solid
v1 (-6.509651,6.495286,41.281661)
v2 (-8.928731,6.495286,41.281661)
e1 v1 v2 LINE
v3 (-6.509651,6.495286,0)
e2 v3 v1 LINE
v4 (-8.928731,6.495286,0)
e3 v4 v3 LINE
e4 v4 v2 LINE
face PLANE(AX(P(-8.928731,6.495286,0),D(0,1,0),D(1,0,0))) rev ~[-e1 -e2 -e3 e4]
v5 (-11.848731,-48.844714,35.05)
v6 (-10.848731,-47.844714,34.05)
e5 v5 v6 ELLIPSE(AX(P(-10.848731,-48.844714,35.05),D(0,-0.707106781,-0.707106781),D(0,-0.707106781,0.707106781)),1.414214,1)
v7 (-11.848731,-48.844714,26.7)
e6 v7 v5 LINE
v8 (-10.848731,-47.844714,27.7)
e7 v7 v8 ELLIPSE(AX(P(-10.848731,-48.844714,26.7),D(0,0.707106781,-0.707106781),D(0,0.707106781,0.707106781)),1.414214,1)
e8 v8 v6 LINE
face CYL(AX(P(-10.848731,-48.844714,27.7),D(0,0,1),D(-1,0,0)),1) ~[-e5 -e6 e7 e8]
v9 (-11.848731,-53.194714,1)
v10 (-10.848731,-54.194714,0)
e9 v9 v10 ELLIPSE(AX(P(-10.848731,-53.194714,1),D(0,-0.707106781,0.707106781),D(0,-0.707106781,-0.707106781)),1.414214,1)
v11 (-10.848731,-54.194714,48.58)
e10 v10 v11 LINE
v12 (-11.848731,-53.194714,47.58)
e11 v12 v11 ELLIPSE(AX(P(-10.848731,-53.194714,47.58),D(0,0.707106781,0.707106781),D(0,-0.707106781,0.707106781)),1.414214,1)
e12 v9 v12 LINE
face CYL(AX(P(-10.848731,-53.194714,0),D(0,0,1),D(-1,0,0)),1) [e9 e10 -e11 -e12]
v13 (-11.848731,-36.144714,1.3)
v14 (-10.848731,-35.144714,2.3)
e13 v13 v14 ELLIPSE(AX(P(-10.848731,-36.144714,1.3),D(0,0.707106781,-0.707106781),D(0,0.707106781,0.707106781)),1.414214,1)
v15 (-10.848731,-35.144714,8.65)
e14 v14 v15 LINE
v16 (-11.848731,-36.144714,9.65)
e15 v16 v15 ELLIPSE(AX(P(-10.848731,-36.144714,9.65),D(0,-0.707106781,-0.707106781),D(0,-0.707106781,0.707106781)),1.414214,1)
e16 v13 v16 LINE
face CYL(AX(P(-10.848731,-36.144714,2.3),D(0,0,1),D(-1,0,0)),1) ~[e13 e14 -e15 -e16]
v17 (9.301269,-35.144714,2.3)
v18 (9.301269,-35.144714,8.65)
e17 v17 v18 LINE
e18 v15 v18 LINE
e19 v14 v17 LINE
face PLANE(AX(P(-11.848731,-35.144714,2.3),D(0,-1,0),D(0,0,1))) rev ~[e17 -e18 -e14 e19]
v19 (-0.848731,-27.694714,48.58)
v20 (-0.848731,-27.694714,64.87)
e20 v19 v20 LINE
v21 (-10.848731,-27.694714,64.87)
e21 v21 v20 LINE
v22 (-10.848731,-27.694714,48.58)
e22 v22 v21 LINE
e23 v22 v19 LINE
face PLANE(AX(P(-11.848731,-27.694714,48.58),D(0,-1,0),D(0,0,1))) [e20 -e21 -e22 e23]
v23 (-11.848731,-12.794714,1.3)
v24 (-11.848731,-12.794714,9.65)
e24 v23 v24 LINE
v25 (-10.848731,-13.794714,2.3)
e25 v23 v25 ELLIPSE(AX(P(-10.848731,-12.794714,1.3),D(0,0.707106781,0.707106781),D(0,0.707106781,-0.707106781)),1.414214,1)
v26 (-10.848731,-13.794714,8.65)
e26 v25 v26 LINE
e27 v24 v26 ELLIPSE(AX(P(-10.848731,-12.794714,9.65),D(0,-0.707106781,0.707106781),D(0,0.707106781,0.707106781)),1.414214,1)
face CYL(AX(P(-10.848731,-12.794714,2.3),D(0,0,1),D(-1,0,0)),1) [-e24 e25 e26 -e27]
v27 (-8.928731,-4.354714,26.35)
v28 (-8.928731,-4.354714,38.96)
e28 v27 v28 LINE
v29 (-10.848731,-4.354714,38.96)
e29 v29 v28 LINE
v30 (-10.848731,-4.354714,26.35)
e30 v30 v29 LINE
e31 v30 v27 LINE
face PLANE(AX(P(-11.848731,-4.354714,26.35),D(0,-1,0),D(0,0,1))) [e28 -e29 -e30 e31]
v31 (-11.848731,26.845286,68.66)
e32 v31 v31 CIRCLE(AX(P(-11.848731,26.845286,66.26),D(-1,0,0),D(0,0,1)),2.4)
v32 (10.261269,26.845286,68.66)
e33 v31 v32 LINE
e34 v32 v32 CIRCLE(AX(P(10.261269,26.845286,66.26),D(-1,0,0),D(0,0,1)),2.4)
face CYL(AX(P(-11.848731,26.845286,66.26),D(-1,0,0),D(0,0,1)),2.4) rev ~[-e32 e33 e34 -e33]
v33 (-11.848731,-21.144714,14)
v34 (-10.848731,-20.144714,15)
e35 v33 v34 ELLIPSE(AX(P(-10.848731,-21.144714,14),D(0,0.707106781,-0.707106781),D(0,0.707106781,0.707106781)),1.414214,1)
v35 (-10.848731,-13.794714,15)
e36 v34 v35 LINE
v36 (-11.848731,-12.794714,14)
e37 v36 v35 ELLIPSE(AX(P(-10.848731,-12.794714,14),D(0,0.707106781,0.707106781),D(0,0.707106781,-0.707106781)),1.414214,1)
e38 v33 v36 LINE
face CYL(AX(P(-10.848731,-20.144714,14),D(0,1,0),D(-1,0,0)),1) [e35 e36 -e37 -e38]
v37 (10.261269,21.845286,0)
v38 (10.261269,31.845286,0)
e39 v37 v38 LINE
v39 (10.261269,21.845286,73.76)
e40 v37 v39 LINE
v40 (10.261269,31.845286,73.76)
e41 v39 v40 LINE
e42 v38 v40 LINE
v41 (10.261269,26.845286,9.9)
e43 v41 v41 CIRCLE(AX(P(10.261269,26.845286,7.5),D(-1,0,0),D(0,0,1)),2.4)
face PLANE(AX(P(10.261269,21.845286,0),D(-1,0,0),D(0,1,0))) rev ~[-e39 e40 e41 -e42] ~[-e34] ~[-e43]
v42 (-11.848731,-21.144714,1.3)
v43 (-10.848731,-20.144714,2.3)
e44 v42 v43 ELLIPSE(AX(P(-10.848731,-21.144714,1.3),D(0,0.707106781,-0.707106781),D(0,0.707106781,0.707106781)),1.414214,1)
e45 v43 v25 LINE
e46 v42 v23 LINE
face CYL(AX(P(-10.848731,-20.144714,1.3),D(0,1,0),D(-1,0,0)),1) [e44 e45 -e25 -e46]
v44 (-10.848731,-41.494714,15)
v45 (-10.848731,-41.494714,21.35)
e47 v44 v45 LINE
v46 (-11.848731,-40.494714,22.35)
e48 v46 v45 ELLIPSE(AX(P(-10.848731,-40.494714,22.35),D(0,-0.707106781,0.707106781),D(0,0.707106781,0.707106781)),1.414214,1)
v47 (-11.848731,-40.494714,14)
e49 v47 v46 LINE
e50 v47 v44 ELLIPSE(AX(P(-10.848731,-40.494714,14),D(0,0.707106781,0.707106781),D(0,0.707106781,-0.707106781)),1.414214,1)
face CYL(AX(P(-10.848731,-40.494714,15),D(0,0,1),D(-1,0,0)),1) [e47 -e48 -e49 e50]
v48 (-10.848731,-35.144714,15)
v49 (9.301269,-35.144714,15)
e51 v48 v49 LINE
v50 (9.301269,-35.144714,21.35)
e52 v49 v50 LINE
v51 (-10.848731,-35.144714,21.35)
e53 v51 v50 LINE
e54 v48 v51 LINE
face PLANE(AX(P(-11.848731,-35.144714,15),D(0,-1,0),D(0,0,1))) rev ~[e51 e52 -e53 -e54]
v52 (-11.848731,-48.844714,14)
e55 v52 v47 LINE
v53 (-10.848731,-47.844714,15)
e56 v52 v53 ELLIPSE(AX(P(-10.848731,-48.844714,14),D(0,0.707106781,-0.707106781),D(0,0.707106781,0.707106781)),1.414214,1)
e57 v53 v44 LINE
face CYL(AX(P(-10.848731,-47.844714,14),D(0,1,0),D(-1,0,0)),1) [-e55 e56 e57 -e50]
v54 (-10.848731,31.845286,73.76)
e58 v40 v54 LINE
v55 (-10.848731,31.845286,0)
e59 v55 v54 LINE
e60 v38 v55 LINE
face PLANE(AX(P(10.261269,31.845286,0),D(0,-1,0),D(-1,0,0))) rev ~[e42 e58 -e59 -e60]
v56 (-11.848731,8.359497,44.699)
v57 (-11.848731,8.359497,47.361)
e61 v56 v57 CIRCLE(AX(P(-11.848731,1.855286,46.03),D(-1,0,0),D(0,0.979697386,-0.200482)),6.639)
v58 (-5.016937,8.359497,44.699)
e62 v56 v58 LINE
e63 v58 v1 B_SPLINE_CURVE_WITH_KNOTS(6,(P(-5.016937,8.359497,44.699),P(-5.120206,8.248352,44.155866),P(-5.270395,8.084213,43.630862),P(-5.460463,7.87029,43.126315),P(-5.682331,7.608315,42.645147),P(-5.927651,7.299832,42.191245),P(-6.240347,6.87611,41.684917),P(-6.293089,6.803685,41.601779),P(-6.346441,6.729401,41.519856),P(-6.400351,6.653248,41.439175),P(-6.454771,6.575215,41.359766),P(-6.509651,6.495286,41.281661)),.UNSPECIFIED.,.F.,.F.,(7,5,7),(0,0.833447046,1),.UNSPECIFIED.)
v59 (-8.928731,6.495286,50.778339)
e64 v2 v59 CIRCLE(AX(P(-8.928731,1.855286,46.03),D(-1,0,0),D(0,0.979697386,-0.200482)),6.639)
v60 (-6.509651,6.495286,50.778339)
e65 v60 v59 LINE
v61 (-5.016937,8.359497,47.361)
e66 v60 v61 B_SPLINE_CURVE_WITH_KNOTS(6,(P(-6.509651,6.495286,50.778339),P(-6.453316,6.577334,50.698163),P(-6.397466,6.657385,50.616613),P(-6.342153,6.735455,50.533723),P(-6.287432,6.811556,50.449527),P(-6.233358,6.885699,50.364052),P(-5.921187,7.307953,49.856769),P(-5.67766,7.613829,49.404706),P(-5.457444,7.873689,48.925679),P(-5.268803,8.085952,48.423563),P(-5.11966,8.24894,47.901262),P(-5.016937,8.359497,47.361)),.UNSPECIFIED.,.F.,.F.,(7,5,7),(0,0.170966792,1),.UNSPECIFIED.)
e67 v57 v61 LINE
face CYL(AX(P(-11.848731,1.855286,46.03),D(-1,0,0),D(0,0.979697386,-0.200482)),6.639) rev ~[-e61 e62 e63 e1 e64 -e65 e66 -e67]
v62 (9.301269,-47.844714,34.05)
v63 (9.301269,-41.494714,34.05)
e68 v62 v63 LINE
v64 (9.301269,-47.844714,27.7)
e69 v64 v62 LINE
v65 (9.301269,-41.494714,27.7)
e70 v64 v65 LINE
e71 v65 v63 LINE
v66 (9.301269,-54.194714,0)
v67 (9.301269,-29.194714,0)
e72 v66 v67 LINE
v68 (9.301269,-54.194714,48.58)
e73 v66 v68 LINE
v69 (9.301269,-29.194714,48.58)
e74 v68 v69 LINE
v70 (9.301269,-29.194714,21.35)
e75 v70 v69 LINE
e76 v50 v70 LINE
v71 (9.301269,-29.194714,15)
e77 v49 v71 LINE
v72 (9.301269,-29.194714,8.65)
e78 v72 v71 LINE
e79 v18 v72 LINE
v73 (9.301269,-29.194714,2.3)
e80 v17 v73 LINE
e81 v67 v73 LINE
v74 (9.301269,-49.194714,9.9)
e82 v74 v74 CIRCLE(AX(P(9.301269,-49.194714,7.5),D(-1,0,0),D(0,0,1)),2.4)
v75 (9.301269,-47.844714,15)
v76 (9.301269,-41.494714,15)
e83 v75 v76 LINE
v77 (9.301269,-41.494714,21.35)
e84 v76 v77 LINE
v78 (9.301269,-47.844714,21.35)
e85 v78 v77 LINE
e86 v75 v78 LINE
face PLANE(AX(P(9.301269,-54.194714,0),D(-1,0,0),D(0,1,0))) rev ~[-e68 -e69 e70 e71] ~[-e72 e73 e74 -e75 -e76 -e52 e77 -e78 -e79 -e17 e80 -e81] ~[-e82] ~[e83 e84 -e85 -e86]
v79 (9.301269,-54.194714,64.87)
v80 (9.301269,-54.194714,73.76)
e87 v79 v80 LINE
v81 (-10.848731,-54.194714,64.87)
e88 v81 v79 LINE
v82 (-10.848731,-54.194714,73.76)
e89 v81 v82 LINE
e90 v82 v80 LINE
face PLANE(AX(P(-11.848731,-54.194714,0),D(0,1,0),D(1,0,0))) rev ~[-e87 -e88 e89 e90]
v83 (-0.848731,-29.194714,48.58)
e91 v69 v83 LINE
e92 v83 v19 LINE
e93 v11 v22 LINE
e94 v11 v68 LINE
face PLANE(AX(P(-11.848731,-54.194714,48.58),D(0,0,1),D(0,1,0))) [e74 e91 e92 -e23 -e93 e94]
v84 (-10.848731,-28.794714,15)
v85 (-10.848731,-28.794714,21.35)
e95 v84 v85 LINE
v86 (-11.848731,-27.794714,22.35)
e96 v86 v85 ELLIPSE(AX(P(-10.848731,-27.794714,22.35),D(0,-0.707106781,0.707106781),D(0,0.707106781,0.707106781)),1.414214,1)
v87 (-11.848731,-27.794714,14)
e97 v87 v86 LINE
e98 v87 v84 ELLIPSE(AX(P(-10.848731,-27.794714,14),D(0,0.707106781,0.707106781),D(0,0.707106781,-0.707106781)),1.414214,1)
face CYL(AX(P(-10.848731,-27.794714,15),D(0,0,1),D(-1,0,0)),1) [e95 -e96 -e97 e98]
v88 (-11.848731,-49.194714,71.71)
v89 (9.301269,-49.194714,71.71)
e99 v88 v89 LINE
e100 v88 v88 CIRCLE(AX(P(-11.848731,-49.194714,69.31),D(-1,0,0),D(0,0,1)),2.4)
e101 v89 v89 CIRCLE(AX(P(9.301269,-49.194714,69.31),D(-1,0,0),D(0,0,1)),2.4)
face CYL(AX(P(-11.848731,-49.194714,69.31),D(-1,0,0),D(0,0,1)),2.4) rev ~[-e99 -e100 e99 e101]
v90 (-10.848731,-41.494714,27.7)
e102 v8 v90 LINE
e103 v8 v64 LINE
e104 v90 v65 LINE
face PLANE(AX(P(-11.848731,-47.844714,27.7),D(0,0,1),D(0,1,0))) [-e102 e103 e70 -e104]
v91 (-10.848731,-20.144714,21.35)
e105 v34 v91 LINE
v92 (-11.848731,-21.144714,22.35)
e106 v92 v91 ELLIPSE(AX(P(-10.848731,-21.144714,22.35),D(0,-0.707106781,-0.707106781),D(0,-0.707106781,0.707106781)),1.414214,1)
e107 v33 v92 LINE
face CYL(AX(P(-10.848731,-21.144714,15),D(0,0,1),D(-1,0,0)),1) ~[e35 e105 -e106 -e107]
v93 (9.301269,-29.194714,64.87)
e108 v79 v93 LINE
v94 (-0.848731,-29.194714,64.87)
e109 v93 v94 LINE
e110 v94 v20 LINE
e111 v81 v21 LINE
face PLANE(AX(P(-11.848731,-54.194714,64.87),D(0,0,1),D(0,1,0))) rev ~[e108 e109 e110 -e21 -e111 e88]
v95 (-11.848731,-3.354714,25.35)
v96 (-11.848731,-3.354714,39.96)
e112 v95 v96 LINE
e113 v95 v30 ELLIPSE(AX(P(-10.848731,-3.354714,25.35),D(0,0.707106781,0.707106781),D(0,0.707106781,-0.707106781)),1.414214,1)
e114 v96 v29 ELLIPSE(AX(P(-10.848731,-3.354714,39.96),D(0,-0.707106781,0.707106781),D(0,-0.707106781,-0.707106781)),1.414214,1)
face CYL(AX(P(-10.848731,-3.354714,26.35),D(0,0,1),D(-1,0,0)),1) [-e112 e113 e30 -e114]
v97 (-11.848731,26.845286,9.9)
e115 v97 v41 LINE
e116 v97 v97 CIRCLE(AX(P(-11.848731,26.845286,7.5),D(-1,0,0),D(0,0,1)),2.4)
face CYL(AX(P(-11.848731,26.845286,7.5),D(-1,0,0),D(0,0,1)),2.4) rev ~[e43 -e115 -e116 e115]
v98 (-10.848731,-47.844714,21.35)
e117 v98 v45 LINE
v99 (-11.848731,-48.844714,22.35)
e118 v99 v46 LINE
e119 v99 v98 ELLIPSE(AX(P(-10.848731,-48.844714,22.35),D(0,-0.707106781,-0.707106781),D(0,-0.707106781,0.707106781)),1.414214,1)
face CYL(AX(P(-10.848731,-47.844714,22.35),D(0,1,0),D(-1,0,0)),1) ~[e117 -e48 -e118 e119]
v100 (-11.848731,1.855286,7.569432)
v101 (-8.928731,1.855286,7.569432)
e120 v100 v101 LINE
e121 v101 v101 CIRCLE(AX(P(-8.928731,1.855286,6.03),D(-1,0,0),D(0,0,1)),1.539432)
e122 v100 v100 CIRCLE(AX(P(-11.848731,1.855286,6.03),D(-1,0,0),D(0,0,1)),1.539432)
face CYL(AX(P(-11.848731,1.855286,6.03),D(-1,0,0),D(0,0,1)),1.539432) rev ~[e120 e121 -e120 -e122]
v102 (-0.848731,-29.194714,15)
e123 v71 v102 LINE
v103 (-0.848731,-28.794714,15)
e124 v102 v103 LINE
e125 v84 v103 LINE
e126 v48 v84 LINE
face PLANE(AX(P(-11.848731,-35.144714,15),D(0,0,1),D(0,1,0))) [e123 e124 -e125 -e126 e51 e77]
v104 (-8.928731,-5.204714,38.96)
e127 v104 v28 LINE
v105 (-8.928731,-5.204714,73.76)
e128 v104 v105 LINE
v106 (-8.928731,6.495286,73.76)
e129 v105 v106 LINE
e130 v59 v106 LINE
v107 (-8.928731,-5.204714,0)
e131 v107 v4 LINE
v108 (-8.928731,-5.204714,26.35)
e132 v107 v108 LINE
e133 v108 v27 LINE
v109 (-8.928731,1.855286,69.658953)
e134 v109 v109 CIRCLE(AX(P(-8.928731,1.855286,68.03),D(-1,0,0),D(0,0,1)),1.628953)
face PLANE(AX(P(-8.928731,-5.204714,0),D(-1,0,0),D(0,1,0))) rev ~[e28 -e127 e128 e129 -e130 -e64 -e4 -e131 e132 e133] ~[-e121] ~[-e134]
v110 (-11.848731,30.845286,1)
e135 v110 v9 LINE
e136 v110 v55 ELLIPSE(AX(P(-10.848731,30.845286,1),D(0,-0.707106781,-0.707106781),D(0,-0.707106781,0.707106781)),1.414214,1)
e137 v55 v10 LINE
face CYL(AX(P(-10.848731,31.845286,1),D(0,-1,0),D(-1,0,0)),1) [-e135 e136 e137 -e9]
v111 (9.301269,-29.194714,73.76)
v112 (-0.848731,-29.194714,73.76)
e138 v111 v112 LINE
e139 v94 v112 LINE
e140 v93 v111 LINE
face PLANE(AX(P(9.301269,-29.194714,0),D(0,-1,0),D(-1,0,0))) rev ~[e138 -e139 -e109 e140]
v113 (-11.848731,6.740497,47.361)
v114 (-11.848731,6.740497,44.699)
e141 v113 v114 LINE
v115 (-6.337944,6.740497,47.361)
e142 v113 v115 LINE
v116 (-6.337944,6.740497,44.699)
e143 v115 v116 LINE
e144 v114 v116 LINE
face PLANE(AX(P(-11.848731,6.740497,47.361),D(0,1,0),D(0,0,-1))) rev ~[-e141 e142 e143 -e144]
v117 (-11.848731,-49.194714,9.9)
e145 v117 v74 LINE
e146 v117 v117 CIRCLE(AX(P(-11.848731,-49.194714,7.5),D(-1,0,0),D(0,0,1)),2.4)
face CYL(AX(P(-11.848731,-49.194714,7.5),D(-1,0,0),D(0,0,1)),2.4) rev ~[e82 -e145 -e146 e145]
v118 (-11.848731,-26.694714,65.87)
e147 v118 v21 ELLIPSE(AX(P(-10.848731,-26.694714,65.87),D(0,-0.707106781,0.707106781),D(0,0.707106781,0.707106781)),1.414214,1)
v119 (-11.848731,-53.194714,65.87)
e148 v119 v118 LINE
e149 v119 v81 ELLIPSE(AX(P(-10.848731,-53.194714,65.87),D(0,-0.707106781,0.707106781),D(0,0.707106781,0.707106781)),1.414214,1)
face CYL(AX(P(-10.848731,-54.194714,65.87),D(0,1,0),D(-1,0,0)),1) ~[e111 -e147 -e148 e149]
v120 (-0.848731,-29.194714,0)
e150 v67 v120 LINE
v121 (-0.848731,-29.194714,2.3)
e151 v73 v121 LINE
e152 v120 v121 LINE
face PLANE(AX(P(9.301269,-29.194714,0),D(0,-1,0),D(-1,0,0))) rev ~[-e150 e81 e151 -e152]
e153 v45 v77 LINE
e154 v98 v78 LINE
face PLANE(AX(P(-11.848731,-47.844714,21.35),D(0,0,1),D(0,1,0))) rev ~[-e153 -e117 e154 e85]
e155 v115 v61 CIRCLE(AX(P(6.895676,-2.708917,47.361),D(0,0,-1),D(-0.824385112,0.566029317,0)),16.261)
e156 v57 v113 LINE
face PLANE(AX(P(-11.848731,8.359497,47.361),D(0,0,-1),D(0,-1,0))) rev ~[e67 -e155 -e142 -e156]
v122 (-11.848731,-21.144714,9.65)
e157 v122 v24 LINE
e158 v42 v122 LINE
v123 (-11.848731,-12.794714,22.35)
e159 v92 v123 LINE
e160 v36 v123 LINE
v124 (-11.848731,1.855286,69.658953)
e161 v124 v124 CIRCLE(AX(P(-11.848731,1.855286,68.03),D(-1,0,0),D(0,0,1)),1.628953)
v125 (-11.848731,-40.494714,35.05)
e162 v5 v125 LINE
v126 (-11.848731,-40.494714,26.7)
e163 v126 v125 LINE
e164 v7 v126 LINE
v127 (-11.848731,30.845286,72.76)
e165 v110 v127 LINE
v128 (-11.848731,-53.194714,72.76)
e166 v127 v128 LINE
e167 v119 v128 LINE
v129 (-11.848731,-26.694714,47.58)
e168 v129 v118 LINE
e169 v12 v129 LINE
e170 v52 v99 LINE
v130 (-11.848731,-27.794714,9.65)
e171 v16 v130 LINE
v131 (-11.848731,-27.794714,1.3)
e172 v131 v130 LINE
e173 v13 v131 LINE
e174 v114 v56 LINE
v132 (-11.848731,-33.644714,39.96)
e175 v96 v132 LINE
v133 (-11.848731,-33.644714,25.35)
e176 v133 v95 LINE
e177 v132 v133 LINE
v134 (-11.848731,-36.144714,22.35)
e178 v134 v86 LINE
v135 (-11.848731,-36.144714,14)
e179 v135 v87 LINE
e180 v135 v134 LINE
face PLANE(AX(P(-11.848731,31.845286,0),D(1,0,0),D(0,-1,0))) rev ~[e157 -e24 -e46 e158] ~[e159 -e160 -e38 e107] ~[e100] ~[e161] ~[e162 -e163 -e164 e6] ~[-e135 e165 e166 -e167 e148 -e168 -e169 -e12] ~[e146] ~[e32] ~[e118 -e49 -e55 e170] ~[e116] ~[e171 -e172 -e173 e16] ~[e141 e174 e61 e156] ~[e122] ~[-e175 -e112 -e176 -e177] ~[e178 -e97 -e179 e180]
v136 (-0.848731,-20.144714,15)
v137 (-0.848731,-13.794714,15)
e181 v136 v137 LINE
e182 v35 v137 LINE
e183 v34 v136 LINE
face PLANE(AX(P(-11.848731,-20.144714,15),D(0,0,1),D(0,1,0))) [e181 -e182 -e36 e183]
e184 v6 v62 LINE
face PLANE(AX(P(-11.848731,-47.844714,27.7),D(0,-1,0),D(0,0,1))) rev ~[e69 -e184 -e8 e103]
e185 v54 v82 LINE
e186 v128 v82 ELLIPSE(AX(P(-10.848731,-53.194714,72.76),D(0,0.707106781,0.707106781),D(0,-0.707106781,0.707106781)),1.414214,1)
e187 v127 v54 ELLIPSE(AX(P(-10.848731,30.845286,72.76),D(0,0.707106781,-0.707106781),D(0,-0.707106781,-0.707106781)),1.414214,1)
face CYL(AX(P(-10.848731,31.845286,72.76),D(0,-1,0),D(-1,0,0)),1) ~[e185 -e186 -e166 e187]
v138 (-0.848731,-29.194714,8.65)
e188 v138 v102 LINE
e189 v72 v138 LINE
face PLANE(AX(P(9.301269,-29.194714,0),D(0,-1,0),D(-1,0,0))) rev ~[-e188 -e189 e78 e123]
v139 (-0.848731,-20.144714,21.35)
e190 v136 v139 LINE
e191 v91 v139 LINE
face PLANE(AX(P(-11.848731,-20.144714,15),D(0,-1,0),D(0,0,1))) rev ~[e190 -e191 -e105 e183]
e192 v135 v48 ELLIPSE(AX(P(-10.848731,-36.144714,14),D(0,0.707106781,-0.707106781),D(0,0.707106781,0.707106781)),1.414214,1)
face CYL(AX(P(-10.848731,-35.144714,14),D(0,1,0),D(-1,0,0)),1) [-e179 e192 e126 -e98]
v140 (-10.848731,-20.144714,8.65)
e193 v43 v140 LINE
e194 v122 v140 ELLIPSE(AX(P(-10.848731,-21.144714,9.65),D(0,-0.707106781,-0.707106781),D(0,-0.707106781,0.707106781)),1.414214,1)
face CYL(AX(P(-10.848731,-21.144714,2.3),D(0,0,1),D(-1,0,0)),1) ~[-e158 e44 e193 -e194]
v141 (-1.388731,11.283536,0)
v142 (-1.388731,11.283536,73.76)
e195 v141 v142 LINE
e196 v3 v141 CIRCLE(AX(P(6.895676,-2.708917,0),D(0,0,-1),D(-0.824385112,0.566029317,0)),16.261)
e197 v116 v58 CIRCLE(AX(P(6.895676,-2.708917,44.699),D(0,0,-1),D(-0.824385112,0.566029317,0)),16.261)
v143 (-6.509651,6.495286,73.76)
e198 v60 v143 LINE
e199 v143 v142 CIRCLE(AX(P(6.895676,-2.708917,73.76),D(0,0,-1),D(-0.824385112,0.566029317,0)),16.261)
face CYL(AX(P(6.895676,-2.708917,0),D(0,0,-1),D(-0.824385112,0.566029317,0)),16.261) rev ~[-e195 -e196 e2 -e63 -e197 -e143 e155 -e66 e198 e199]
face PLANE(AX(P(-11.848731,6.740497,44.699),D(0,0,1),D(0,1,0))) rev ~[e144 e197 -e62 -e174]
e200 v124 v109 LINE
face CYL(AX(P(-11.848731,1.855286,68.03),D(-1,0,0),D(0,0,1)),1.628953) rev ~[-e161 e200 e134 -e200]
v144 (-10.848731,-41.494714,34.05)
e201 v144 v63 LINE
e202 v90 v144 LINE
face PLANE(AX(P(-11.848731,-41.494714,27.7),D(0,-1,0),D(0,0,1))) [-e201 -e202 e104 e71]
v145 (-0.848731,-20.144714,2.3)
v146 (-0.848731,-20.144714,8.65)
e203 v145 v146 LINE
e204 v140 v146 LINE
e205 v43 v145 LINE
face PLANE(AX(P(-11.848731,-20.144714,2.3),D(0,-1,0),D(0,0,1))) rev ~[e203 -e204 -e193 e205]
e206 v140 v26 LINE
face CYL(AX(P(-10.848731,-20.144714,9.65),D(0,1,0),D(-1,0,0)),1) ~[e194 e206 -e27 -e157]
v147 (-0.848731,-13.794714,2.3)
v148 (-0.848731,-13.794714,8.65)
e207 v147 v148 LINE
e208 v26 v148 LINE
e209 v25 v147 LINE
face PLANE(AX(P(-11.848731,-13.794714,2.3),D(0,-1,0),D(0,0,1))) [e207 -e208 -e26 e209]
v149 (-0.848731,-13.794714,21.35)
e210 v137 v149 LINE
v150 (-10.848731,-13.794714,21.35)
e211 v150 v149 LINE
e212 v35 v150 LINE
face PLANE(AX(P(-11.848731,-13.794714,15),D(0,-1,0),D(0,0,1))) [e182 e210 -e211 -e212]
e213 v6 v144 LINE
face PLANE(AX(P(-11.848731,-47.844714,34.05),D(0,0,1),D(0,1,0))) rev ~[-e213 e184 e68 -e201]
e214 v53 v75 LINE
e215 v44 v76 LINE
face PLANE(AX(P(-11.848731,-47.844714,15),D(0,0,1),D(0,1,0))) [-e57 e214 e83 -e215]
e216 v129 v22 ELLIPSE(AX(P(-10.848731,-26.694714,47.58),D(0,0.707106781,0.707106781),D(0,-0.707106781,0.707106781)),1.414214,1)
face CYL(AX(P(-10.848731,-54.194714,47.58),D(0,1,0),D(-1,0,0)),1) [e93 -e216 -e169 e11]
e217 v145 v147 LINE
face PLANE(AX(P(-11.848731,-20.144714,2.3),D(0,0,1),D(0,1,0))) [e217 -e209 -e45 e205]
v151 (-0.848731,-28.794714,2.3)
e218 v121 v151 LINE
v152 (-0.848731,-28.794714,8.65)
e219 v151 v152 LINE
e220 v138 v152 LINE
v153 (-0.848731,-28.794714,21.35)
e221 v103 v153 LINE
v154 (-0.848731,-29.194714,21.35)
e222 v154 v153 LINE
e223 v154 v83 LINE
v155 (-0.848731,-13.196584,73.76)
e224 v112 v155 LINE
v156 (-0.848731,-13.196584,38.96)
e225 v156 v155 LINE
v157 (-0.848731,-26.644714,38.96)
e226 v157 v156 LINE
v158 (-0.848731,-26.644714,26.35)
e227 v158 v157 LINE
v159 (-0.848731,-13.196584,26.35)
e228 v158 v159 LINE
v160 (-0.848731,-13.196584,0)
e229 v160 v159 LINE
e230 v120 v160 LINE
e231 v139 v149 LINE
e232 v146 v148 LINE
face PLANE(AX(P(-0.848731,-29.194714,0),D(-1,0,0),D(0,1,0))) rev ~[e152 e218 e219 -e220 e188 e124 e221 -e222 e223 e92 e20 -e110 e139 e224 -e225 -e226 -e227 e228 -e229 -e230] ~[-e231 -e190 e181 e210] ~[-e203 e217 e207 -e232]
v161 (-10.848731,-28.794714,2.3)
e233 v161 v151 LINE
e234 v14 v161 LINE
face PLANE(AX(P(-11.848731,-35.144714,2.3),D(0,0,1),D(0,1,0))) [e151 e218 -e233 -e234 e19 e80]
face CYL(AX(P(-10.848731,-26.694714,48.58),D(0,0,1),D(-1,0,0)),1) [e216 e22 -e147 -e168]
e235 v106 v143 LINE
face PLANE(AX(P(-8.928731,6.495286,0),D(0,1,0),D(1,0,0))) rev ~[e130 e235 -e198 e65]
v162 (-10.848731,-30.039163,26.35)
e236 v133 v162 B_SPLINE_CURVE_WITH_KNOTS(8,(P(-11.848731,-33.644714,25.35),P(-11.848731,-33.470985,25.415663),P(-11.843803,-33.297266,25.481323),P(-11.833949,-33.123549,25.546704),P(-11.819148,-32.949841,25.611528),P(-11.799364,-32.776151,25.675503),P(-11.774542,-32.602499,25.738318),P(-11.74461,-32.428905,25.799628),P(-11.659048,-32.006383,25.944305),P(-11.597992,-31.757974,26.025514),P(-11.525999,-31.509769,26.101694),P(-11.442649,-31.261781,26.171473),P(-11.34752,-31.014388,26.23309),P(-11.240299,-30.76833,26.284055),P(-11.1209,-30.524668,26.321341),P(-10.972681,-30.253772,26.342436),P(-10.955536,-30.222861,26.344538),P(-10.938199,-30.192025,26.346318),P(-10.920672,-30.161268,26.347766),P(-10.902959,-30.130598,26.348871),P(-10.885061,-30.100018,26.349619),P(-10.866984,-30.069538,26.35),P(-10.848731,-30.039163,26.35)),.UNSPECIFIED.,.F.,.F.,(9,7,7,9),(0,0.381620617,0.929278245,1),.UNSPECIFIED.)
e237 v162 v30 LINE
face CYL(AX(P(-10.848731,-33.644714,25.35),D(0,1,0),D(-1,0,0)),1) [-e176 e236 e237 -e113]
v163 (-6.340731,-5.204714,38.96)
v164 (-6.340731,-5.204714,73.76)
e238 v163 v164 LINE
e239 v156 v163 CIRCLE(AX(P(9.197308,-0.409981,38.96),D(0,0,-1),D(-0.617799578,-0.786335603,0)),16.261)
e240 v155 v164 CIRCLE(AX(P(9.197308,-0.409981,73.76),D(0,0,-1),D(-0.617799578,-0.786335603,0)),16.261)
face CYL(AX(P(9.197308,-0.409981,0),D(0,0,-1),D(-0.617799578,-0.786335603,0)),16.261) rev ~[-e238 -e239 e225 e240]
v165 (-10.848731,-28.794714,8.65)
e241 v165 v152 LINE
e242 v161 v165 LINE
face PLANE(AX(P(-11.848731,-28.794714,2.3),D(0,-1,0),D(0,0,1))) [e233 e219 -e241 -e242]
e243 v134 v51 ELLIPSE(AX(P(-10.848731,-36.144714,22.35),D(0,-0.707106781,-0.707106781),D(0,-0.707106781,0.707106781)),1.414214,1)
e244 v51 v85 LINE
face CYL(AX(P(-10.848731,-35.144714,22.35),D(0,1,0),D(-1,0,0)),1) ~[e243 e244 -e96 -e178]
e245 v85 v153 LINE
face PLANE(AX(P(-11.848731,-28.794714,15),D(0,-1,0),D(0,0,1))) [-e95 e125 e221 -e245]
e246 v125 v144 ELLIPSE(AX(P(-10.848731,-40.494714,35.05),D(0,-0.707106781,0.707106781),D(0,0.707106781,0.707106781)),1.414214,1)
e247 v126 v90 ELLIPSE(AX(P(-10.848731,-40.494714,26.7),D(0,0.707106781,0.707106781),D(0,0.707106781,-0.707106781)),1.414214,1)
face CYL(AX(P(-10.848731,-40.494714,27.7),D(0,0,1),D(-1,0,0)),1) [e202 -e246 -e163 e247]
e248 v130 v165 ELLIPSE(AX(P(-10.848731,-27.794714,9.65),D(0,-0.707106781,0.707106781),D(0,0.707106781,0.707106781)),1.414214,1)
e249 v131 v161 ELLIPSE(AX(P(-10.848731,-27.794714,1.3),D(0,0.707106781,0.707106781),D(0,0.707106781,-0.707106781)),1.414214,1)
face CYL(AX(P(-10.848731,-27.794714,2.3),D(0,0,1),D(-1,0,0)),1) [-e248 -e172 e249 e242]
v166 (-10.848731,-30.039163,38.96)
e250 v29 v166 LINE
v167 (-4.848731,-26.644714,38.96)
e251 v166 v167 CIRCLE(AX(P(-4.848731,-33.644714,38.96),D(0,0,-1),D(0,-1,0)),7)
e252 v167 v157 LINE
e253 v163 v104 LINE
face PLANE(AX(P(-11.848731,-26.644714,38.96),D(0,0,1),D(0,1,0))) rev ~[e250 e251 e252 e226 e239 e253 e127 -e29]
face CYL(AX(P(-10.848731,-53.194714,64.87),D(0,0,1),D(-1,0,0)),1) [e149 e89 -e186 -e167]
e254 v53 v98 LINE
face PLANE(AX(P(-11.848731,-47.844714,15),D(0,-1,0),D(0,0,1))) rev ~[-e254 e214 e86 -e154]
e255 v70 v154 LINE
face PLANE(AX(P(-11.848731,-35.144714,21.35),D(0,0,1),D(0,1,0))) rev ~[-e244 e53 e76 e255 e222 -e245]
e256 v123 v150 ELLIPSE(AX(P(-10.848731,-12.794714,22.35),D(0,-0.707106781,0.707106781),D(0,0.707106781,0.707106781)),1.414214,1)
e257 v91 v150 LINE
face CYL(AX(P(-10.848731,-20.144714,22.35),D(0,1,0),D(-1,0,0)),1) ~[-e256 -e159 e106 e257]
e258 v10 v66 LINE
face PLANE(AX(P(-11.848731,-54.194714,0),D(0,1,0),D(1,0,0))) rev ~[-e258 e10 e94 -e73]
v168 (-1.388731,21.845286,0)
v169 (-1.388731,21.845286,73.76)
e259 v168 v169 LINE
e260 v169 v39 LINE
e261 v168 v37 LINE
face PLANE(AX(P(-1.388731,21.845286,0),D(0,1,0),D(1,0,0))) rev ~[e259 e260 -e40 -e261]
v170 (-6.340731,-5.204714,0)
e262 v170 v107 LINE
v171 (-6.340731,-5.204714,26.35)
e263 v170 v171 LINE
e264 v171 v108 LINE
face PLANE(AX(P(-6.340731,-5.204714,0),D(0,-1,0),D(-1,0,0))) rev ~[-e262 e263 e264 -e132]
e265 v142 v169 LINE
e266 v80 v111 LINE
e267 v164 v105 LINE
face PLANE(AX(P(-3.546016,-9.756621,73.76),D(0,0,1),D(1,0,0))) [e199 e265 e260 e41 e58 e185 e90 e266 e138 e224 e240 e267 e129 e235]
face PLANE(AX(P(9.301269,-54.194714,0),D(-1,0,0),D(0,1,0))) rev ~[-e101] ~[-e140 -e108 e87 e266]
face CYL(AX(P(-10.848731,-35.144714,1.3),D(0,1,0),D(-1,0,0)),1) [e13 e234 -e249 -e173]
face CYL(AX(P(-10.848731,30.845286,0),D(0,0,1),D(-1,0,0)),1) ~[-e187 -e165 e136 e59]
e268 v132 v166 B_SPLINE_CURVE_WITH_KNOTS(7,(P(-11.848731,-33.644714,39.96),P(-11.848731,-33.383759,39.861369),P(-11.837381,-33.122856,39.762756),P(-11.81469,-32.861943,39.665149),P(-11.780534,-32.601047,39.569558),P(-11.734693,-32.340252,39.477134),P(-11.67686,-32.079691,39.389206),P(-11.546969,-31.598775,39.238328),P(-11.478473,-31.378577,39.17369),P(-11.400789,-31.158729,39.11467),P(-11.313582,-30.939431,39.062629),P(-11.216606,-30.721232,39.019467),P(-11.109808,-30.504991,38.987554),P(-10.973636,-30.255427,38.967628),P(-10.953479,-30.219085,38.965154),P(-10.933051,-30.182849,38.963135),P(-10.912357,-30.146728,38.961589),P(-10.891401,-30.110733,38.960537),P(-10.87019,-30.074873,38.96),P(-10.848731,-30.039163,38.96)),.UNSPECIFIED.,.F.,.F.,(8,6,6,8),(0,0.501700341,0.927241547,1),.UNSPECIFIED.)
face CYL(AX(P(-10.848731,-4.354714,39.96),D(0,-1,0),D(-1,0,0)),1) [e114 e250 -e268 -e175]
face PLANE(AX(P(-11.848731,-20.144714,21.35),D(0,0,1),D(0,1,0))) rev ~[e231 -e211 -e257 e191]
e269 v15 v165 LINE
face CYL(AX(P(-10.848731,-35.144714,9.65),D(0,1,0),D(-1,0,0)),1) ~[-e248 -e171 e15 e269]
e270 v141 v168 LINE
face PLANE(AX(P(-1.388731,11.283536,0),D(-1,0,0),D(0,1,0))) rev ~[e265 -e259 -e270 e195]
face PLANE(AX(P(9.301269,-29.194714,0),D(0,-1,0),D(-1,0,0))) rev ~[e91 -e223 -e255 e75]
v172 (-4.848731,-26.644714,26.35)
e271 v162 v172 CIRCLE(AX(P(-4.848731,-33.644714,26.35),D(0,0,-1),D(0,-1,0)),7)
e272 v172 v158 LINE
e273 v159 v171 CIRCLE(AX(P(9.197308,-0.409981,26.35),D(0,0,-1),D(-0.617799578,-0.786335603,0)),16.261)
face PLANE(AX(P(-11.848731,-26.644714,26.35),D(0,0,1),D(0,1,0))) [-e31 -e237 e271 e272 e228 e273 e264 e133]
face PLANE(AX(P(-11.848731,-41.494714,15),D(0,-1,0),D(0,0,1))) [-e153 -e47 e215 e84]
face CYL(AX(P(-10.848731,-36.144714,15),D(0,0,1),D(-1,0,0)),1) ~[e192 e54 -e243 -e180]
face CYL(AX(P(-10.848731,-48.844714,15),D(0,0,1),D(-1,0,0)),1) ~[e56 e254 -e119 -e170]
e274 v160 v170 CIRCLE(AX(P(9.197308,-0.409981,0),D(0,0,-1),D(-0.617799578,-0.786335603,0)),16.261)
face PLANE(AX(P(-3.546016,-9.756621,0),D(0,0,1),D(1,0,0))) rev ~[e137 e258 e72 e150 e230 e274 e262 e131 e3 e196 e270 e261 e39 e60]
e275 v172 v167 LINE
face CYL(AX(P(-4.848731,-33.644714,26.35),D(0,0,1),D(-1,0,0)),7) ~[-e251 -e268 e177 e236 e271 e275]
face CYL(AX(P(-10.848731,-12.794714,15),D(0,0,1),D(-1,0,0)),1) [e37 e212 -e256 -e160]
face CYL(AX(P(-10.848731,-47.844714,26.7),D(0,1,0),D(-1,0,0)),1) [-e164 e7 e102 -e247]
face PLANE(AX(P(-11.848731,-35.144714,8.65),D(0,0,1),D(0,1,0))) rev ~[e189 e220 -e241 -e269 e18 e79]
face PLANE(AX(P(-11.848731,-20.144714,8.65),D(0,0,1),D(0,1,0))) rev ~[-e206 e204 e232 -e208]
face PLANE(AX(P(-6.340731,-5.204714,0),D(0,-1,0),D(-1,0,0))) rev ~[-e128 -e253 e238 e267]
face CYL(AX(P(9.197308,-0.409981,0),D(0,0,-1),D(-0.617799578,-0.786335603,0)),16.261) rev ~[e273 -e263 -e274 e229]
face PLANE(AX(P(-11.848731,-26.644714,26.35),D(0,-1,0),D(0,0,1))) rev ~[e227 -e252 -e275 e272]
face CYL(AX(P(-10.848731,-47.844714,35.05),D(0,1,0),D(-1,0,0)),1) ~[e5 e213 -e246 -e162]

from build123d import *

# Parameters (mm, degrees)
PROFILEEXTRUDE_DEPTH    = 73.76
HOSEWINDOW_W            = 16.29
HOSEWINDOW_H            = 26.5
HOSEWINDOWCUT_DEPTH     = 23.11
CAGESCREWS_R            = 2.4
CAGESCREWSCUT_DEPTH     = 23.11
AXLEHOLECUT_DEPTH       = 23.11
SETSCREWHOLES_R         = 1.539432213
SETSCREWHOLES_R_2       = 1.628953018
SETSCREWHOLESCUT_DEPTH  = 23.11
VELOCITYWINDOW_W        = 12.61
VELOCITYWINDOW_H        = 22.29
VELOCITYWINDOWCUT_DEPTH = 23.11
FILLET3_R               = 7
TRIGGERRACKSLOTCUT_W    = 6.35
TRIGGERRACKSLOTCUT_H    = 6.35
RACKSLOTCUT_DEPTH       = 23.11
FILLET4_R               = 1


with BuildPart() as part:
    # Profile → ProfileExtrude (new body)
    with BuildSketch(Plane.XY):
        with BuildLine():
            Line((9.301269376, -54.194713793), (9.301269376, -29.194713793))
            Line((9.301269376, -29.194713793), (-0.848730624, -29.194713793))
            Line((-0.848730624, -29.194713793), (-0.848730624, -13.196583793))
            ThreePointArc((-0.848730624, -13.196583793), (-4.204324299, -9.619560571), (-6.340730624, -5.204713793))
            Line((-6.340730624, -5.204713793), (-8.928730624, -5.204713793))
            Line((-8.928730624, -5.204713793), (-8.928730624, 6.495286207))
            Line((-8.928730624, 6.495286207), (-6.509650624, 6.495286207))
            ThreePointArc((-6.509650624, 6.495286207), (-4.210311879, 9.168674207), (-1.388730624, 11.283536207))
            Line((-1.388730624, 11.283536207), (-1.388730624, 21.845286207))
            Line((-1.388730624, 21.845286207), (10.261269376, 21.845286207))
            Line((10.261269376, 21.845286207), (10.261269376, 31.845286207))
            Line((10.261269376, 31.845286207), (-11.848730624, 31.845286207))
            Line((-11.848730624, 31.845286207), (-11.848730624, -54.194713793))
            Line((-11.848730624, -54.194713793), (9.301269376, -54.194713793))
        make_face()
    extrude(amount=PROFILEEXTRUDE_DEPTH)

    # HoseWindow → HoseWindowCut (cut, through all)
    with BuildSketch(Plane.ZY.offset(11.848730624)):
        with Locations((56.725, -40.944713793)):
            Rectangle(HOSEWINDOW_W, HOSEWINDOW_H)
    extrude(amount=-HOSEWINDOWCUT_DEPTH, mode=Mode.SUBTRACT)

    # CageScrews → CageScrewsCut (cut, through all)
    with BuildSketch(Plane.ZY.offset(11.848730624)):
        with Locations((7.5, 26.845286207)):
            Circle(CAGESCREWS_R)
        with Locations((66.26, 26.845286207)):
            Circle(CAGESCREWS_R)
        with Locations((7.5, -49.194713793)):
            Circle(CAGESCREWS_R)
        with Locations((69.31, -49.194713793)):
            Circle(CAGESCREWS_R)
    extrude(amount=-CAGESCREWSCUT_DEPTH, mode=Mode.SUBTRACT)

    # AxleHole → AxleHoleCut (cut, through all)
    with BuildSketch(Plane.ZY.offset(11.848730624)):
        with BuildLine():
            Line((47.361, 8.359497151), (47.361, 6.740497151))
            Line((47.361, 6.740497151), (44.699, 6.740497151))
            Line((44.699, 6.740497151), (44.699, 8.359497151))
            ThreePointArc((44.699, 8.359497151), (46.03, -4.783713793), (47.361, 8.359497151))
        make_face()
    extrude(amount=-AXLEHOLECUT_DEPTH, mode=Mode.SUBTRACT)

    # SetScrewHoles → SetScrewHolesCut (cut, through all)
    with BuildSketch(Plane.ZY.offset(11.848730624)):
        with Locations((6.03, 1.855286207)):
            Circle(SETSCREWHOLES_R)
        with Locations((68.03, 1.855286207)):
            Circle(SETSCREWHOLES_R_2)
    extrude(amount=-SETSCREWHOLESCUT_DEPTH, mode=Mode.SUBTRACT)

    # VelocityWindow → VelocityWindowCut (cut, through all)
    with BuildSketch(Plane.ZY.offset(11.848730624)):
        with Locations((32.655, -15.499713793)):
            Rectangle(VELOCITYWINDOW_W, VELOCITYWINDOW_H)
    extrude(amount=-VELOCITYWINDOWCUT_DEPTH, mode=Mode.SUBTRACT)

    # Fillet3
    fillet3_edges = [part.edges().sort_by_distance(p)[0] for p in [
        (-11.848730624, -26.644713793, 32.655),
    ]]
    fillet(fillet3_edges, radius=FILLET3_R)

    # TriggerRackSlotCut → RackSlotCut (cut, through all)
    with BuildSketch(Plane.ZY.offset(11.848730624)):
        with Locations((18.175, -44.669713793)):
            Rectangle(TRIGGERRACKSLOTCUT_W, TRIGGERRACKSLOTCUT_H)
        with Locations((30.875, -44.669713793)):
            Rectangle(TRIGGERRACKSLOTCUT_W, TRIGGERRACKSLOTCUT_H)
        with Locations((5.475, -31.969713793)):
            Rectangle(TRIGGERRACKSLOTCUT_W, TRIGGERRACKSLOTCUT_H)
        with Locations((18.175, -31.969713793)):
            Rectangle(TRIGGERRACKSLOTCUT_W, TRIGGERRACKSLOTCUT_H)
        with Locations((5.475, -16.969713793)):
            Rectangle(TRIGGERRACKSLOTCUT_W, TRIGGERRACKSLOTCUT_H)
        with Locations((18.175, -16.969713793)):
            Rectangle(TRIGGERRACKSLOTCUT_W, TRIGGERRACKSLOTCUT_H)
    extrude(amount=-RACKSLOTCUT_DEPTH, mode=Mode.SUBTRACT)

    # Fillet4
    fillet4_edges = [part.edges().sort_by_distance(p)[0] for p in [
        (-11.848730624, -11.174713793, 73.76),
        (-11.848730624, -18.999713793, 26.35),
        (-11.848730624, -18.999713793, 38.96),
        (-11.848730624, -4.354713793, 32.655),
        (-11.848730624, -44.669713793, 15),
        (-11.848730624, -47.844713793, 18.175),
        (-11.848730624, -44.669713793, 21.35),
        (-11.848730624, -41.494713793, 18.175),
        (-11.848730624, -11.174713793, 0),
        (-11.848730624, -31.969713793, 2.3),
        (-11.848730624, -35.144713793, 5.475),
        (-11.848730624, -31.969713793, 8.65),
        (-11.848730624, -28.794713793, 5.475),
        (-11.848730624, -44.669713793, 27.7),
        (-11.848730624, -47.844713793, 30.875),
        (-11.848730624, -44.669713793, 34.05),
        (-11.848730624, -41.494713793, 30.875),
        (-11.848730624, -31.969713793, 15),
        (-11.848730624, -35.144713793, 18.175),
        (-11.848730624, -31.969713793, 21.35),
        (-11.848730624, -28.794713793, 18.175),
        (-11.848730624, -54.194713793, 69.315),
        (-11.848730624, 31.845286207, 36.88),
        (-11.848730624, -16.969713793, 2.3),
        (-11.848730624, -20.144713793, 5.475),
        (-11.848730624, -16.969713793, 8.65),
        (-11.848730624, -13.794713793, 5.475),
        (-11.848730624, -16.969713793, 15),
        (-11.848730624, -20.144713793, 18.175),
        (-11.848730624, -16.969713793, 21.35),
        (-11.848730624, -13.794713793, 18.175),
        (-11.848730624, -54.194713793, 24.29),
        (-11.848730624, -40.944713793, 64.87),
        (-11.848730624, -27.694713793, 56.725),
        (-11.848730624, -40.944713793, 48.58),
    ]]
    fillet(fillet4_edges, radius=FILLET4_R)


solid = part.part
